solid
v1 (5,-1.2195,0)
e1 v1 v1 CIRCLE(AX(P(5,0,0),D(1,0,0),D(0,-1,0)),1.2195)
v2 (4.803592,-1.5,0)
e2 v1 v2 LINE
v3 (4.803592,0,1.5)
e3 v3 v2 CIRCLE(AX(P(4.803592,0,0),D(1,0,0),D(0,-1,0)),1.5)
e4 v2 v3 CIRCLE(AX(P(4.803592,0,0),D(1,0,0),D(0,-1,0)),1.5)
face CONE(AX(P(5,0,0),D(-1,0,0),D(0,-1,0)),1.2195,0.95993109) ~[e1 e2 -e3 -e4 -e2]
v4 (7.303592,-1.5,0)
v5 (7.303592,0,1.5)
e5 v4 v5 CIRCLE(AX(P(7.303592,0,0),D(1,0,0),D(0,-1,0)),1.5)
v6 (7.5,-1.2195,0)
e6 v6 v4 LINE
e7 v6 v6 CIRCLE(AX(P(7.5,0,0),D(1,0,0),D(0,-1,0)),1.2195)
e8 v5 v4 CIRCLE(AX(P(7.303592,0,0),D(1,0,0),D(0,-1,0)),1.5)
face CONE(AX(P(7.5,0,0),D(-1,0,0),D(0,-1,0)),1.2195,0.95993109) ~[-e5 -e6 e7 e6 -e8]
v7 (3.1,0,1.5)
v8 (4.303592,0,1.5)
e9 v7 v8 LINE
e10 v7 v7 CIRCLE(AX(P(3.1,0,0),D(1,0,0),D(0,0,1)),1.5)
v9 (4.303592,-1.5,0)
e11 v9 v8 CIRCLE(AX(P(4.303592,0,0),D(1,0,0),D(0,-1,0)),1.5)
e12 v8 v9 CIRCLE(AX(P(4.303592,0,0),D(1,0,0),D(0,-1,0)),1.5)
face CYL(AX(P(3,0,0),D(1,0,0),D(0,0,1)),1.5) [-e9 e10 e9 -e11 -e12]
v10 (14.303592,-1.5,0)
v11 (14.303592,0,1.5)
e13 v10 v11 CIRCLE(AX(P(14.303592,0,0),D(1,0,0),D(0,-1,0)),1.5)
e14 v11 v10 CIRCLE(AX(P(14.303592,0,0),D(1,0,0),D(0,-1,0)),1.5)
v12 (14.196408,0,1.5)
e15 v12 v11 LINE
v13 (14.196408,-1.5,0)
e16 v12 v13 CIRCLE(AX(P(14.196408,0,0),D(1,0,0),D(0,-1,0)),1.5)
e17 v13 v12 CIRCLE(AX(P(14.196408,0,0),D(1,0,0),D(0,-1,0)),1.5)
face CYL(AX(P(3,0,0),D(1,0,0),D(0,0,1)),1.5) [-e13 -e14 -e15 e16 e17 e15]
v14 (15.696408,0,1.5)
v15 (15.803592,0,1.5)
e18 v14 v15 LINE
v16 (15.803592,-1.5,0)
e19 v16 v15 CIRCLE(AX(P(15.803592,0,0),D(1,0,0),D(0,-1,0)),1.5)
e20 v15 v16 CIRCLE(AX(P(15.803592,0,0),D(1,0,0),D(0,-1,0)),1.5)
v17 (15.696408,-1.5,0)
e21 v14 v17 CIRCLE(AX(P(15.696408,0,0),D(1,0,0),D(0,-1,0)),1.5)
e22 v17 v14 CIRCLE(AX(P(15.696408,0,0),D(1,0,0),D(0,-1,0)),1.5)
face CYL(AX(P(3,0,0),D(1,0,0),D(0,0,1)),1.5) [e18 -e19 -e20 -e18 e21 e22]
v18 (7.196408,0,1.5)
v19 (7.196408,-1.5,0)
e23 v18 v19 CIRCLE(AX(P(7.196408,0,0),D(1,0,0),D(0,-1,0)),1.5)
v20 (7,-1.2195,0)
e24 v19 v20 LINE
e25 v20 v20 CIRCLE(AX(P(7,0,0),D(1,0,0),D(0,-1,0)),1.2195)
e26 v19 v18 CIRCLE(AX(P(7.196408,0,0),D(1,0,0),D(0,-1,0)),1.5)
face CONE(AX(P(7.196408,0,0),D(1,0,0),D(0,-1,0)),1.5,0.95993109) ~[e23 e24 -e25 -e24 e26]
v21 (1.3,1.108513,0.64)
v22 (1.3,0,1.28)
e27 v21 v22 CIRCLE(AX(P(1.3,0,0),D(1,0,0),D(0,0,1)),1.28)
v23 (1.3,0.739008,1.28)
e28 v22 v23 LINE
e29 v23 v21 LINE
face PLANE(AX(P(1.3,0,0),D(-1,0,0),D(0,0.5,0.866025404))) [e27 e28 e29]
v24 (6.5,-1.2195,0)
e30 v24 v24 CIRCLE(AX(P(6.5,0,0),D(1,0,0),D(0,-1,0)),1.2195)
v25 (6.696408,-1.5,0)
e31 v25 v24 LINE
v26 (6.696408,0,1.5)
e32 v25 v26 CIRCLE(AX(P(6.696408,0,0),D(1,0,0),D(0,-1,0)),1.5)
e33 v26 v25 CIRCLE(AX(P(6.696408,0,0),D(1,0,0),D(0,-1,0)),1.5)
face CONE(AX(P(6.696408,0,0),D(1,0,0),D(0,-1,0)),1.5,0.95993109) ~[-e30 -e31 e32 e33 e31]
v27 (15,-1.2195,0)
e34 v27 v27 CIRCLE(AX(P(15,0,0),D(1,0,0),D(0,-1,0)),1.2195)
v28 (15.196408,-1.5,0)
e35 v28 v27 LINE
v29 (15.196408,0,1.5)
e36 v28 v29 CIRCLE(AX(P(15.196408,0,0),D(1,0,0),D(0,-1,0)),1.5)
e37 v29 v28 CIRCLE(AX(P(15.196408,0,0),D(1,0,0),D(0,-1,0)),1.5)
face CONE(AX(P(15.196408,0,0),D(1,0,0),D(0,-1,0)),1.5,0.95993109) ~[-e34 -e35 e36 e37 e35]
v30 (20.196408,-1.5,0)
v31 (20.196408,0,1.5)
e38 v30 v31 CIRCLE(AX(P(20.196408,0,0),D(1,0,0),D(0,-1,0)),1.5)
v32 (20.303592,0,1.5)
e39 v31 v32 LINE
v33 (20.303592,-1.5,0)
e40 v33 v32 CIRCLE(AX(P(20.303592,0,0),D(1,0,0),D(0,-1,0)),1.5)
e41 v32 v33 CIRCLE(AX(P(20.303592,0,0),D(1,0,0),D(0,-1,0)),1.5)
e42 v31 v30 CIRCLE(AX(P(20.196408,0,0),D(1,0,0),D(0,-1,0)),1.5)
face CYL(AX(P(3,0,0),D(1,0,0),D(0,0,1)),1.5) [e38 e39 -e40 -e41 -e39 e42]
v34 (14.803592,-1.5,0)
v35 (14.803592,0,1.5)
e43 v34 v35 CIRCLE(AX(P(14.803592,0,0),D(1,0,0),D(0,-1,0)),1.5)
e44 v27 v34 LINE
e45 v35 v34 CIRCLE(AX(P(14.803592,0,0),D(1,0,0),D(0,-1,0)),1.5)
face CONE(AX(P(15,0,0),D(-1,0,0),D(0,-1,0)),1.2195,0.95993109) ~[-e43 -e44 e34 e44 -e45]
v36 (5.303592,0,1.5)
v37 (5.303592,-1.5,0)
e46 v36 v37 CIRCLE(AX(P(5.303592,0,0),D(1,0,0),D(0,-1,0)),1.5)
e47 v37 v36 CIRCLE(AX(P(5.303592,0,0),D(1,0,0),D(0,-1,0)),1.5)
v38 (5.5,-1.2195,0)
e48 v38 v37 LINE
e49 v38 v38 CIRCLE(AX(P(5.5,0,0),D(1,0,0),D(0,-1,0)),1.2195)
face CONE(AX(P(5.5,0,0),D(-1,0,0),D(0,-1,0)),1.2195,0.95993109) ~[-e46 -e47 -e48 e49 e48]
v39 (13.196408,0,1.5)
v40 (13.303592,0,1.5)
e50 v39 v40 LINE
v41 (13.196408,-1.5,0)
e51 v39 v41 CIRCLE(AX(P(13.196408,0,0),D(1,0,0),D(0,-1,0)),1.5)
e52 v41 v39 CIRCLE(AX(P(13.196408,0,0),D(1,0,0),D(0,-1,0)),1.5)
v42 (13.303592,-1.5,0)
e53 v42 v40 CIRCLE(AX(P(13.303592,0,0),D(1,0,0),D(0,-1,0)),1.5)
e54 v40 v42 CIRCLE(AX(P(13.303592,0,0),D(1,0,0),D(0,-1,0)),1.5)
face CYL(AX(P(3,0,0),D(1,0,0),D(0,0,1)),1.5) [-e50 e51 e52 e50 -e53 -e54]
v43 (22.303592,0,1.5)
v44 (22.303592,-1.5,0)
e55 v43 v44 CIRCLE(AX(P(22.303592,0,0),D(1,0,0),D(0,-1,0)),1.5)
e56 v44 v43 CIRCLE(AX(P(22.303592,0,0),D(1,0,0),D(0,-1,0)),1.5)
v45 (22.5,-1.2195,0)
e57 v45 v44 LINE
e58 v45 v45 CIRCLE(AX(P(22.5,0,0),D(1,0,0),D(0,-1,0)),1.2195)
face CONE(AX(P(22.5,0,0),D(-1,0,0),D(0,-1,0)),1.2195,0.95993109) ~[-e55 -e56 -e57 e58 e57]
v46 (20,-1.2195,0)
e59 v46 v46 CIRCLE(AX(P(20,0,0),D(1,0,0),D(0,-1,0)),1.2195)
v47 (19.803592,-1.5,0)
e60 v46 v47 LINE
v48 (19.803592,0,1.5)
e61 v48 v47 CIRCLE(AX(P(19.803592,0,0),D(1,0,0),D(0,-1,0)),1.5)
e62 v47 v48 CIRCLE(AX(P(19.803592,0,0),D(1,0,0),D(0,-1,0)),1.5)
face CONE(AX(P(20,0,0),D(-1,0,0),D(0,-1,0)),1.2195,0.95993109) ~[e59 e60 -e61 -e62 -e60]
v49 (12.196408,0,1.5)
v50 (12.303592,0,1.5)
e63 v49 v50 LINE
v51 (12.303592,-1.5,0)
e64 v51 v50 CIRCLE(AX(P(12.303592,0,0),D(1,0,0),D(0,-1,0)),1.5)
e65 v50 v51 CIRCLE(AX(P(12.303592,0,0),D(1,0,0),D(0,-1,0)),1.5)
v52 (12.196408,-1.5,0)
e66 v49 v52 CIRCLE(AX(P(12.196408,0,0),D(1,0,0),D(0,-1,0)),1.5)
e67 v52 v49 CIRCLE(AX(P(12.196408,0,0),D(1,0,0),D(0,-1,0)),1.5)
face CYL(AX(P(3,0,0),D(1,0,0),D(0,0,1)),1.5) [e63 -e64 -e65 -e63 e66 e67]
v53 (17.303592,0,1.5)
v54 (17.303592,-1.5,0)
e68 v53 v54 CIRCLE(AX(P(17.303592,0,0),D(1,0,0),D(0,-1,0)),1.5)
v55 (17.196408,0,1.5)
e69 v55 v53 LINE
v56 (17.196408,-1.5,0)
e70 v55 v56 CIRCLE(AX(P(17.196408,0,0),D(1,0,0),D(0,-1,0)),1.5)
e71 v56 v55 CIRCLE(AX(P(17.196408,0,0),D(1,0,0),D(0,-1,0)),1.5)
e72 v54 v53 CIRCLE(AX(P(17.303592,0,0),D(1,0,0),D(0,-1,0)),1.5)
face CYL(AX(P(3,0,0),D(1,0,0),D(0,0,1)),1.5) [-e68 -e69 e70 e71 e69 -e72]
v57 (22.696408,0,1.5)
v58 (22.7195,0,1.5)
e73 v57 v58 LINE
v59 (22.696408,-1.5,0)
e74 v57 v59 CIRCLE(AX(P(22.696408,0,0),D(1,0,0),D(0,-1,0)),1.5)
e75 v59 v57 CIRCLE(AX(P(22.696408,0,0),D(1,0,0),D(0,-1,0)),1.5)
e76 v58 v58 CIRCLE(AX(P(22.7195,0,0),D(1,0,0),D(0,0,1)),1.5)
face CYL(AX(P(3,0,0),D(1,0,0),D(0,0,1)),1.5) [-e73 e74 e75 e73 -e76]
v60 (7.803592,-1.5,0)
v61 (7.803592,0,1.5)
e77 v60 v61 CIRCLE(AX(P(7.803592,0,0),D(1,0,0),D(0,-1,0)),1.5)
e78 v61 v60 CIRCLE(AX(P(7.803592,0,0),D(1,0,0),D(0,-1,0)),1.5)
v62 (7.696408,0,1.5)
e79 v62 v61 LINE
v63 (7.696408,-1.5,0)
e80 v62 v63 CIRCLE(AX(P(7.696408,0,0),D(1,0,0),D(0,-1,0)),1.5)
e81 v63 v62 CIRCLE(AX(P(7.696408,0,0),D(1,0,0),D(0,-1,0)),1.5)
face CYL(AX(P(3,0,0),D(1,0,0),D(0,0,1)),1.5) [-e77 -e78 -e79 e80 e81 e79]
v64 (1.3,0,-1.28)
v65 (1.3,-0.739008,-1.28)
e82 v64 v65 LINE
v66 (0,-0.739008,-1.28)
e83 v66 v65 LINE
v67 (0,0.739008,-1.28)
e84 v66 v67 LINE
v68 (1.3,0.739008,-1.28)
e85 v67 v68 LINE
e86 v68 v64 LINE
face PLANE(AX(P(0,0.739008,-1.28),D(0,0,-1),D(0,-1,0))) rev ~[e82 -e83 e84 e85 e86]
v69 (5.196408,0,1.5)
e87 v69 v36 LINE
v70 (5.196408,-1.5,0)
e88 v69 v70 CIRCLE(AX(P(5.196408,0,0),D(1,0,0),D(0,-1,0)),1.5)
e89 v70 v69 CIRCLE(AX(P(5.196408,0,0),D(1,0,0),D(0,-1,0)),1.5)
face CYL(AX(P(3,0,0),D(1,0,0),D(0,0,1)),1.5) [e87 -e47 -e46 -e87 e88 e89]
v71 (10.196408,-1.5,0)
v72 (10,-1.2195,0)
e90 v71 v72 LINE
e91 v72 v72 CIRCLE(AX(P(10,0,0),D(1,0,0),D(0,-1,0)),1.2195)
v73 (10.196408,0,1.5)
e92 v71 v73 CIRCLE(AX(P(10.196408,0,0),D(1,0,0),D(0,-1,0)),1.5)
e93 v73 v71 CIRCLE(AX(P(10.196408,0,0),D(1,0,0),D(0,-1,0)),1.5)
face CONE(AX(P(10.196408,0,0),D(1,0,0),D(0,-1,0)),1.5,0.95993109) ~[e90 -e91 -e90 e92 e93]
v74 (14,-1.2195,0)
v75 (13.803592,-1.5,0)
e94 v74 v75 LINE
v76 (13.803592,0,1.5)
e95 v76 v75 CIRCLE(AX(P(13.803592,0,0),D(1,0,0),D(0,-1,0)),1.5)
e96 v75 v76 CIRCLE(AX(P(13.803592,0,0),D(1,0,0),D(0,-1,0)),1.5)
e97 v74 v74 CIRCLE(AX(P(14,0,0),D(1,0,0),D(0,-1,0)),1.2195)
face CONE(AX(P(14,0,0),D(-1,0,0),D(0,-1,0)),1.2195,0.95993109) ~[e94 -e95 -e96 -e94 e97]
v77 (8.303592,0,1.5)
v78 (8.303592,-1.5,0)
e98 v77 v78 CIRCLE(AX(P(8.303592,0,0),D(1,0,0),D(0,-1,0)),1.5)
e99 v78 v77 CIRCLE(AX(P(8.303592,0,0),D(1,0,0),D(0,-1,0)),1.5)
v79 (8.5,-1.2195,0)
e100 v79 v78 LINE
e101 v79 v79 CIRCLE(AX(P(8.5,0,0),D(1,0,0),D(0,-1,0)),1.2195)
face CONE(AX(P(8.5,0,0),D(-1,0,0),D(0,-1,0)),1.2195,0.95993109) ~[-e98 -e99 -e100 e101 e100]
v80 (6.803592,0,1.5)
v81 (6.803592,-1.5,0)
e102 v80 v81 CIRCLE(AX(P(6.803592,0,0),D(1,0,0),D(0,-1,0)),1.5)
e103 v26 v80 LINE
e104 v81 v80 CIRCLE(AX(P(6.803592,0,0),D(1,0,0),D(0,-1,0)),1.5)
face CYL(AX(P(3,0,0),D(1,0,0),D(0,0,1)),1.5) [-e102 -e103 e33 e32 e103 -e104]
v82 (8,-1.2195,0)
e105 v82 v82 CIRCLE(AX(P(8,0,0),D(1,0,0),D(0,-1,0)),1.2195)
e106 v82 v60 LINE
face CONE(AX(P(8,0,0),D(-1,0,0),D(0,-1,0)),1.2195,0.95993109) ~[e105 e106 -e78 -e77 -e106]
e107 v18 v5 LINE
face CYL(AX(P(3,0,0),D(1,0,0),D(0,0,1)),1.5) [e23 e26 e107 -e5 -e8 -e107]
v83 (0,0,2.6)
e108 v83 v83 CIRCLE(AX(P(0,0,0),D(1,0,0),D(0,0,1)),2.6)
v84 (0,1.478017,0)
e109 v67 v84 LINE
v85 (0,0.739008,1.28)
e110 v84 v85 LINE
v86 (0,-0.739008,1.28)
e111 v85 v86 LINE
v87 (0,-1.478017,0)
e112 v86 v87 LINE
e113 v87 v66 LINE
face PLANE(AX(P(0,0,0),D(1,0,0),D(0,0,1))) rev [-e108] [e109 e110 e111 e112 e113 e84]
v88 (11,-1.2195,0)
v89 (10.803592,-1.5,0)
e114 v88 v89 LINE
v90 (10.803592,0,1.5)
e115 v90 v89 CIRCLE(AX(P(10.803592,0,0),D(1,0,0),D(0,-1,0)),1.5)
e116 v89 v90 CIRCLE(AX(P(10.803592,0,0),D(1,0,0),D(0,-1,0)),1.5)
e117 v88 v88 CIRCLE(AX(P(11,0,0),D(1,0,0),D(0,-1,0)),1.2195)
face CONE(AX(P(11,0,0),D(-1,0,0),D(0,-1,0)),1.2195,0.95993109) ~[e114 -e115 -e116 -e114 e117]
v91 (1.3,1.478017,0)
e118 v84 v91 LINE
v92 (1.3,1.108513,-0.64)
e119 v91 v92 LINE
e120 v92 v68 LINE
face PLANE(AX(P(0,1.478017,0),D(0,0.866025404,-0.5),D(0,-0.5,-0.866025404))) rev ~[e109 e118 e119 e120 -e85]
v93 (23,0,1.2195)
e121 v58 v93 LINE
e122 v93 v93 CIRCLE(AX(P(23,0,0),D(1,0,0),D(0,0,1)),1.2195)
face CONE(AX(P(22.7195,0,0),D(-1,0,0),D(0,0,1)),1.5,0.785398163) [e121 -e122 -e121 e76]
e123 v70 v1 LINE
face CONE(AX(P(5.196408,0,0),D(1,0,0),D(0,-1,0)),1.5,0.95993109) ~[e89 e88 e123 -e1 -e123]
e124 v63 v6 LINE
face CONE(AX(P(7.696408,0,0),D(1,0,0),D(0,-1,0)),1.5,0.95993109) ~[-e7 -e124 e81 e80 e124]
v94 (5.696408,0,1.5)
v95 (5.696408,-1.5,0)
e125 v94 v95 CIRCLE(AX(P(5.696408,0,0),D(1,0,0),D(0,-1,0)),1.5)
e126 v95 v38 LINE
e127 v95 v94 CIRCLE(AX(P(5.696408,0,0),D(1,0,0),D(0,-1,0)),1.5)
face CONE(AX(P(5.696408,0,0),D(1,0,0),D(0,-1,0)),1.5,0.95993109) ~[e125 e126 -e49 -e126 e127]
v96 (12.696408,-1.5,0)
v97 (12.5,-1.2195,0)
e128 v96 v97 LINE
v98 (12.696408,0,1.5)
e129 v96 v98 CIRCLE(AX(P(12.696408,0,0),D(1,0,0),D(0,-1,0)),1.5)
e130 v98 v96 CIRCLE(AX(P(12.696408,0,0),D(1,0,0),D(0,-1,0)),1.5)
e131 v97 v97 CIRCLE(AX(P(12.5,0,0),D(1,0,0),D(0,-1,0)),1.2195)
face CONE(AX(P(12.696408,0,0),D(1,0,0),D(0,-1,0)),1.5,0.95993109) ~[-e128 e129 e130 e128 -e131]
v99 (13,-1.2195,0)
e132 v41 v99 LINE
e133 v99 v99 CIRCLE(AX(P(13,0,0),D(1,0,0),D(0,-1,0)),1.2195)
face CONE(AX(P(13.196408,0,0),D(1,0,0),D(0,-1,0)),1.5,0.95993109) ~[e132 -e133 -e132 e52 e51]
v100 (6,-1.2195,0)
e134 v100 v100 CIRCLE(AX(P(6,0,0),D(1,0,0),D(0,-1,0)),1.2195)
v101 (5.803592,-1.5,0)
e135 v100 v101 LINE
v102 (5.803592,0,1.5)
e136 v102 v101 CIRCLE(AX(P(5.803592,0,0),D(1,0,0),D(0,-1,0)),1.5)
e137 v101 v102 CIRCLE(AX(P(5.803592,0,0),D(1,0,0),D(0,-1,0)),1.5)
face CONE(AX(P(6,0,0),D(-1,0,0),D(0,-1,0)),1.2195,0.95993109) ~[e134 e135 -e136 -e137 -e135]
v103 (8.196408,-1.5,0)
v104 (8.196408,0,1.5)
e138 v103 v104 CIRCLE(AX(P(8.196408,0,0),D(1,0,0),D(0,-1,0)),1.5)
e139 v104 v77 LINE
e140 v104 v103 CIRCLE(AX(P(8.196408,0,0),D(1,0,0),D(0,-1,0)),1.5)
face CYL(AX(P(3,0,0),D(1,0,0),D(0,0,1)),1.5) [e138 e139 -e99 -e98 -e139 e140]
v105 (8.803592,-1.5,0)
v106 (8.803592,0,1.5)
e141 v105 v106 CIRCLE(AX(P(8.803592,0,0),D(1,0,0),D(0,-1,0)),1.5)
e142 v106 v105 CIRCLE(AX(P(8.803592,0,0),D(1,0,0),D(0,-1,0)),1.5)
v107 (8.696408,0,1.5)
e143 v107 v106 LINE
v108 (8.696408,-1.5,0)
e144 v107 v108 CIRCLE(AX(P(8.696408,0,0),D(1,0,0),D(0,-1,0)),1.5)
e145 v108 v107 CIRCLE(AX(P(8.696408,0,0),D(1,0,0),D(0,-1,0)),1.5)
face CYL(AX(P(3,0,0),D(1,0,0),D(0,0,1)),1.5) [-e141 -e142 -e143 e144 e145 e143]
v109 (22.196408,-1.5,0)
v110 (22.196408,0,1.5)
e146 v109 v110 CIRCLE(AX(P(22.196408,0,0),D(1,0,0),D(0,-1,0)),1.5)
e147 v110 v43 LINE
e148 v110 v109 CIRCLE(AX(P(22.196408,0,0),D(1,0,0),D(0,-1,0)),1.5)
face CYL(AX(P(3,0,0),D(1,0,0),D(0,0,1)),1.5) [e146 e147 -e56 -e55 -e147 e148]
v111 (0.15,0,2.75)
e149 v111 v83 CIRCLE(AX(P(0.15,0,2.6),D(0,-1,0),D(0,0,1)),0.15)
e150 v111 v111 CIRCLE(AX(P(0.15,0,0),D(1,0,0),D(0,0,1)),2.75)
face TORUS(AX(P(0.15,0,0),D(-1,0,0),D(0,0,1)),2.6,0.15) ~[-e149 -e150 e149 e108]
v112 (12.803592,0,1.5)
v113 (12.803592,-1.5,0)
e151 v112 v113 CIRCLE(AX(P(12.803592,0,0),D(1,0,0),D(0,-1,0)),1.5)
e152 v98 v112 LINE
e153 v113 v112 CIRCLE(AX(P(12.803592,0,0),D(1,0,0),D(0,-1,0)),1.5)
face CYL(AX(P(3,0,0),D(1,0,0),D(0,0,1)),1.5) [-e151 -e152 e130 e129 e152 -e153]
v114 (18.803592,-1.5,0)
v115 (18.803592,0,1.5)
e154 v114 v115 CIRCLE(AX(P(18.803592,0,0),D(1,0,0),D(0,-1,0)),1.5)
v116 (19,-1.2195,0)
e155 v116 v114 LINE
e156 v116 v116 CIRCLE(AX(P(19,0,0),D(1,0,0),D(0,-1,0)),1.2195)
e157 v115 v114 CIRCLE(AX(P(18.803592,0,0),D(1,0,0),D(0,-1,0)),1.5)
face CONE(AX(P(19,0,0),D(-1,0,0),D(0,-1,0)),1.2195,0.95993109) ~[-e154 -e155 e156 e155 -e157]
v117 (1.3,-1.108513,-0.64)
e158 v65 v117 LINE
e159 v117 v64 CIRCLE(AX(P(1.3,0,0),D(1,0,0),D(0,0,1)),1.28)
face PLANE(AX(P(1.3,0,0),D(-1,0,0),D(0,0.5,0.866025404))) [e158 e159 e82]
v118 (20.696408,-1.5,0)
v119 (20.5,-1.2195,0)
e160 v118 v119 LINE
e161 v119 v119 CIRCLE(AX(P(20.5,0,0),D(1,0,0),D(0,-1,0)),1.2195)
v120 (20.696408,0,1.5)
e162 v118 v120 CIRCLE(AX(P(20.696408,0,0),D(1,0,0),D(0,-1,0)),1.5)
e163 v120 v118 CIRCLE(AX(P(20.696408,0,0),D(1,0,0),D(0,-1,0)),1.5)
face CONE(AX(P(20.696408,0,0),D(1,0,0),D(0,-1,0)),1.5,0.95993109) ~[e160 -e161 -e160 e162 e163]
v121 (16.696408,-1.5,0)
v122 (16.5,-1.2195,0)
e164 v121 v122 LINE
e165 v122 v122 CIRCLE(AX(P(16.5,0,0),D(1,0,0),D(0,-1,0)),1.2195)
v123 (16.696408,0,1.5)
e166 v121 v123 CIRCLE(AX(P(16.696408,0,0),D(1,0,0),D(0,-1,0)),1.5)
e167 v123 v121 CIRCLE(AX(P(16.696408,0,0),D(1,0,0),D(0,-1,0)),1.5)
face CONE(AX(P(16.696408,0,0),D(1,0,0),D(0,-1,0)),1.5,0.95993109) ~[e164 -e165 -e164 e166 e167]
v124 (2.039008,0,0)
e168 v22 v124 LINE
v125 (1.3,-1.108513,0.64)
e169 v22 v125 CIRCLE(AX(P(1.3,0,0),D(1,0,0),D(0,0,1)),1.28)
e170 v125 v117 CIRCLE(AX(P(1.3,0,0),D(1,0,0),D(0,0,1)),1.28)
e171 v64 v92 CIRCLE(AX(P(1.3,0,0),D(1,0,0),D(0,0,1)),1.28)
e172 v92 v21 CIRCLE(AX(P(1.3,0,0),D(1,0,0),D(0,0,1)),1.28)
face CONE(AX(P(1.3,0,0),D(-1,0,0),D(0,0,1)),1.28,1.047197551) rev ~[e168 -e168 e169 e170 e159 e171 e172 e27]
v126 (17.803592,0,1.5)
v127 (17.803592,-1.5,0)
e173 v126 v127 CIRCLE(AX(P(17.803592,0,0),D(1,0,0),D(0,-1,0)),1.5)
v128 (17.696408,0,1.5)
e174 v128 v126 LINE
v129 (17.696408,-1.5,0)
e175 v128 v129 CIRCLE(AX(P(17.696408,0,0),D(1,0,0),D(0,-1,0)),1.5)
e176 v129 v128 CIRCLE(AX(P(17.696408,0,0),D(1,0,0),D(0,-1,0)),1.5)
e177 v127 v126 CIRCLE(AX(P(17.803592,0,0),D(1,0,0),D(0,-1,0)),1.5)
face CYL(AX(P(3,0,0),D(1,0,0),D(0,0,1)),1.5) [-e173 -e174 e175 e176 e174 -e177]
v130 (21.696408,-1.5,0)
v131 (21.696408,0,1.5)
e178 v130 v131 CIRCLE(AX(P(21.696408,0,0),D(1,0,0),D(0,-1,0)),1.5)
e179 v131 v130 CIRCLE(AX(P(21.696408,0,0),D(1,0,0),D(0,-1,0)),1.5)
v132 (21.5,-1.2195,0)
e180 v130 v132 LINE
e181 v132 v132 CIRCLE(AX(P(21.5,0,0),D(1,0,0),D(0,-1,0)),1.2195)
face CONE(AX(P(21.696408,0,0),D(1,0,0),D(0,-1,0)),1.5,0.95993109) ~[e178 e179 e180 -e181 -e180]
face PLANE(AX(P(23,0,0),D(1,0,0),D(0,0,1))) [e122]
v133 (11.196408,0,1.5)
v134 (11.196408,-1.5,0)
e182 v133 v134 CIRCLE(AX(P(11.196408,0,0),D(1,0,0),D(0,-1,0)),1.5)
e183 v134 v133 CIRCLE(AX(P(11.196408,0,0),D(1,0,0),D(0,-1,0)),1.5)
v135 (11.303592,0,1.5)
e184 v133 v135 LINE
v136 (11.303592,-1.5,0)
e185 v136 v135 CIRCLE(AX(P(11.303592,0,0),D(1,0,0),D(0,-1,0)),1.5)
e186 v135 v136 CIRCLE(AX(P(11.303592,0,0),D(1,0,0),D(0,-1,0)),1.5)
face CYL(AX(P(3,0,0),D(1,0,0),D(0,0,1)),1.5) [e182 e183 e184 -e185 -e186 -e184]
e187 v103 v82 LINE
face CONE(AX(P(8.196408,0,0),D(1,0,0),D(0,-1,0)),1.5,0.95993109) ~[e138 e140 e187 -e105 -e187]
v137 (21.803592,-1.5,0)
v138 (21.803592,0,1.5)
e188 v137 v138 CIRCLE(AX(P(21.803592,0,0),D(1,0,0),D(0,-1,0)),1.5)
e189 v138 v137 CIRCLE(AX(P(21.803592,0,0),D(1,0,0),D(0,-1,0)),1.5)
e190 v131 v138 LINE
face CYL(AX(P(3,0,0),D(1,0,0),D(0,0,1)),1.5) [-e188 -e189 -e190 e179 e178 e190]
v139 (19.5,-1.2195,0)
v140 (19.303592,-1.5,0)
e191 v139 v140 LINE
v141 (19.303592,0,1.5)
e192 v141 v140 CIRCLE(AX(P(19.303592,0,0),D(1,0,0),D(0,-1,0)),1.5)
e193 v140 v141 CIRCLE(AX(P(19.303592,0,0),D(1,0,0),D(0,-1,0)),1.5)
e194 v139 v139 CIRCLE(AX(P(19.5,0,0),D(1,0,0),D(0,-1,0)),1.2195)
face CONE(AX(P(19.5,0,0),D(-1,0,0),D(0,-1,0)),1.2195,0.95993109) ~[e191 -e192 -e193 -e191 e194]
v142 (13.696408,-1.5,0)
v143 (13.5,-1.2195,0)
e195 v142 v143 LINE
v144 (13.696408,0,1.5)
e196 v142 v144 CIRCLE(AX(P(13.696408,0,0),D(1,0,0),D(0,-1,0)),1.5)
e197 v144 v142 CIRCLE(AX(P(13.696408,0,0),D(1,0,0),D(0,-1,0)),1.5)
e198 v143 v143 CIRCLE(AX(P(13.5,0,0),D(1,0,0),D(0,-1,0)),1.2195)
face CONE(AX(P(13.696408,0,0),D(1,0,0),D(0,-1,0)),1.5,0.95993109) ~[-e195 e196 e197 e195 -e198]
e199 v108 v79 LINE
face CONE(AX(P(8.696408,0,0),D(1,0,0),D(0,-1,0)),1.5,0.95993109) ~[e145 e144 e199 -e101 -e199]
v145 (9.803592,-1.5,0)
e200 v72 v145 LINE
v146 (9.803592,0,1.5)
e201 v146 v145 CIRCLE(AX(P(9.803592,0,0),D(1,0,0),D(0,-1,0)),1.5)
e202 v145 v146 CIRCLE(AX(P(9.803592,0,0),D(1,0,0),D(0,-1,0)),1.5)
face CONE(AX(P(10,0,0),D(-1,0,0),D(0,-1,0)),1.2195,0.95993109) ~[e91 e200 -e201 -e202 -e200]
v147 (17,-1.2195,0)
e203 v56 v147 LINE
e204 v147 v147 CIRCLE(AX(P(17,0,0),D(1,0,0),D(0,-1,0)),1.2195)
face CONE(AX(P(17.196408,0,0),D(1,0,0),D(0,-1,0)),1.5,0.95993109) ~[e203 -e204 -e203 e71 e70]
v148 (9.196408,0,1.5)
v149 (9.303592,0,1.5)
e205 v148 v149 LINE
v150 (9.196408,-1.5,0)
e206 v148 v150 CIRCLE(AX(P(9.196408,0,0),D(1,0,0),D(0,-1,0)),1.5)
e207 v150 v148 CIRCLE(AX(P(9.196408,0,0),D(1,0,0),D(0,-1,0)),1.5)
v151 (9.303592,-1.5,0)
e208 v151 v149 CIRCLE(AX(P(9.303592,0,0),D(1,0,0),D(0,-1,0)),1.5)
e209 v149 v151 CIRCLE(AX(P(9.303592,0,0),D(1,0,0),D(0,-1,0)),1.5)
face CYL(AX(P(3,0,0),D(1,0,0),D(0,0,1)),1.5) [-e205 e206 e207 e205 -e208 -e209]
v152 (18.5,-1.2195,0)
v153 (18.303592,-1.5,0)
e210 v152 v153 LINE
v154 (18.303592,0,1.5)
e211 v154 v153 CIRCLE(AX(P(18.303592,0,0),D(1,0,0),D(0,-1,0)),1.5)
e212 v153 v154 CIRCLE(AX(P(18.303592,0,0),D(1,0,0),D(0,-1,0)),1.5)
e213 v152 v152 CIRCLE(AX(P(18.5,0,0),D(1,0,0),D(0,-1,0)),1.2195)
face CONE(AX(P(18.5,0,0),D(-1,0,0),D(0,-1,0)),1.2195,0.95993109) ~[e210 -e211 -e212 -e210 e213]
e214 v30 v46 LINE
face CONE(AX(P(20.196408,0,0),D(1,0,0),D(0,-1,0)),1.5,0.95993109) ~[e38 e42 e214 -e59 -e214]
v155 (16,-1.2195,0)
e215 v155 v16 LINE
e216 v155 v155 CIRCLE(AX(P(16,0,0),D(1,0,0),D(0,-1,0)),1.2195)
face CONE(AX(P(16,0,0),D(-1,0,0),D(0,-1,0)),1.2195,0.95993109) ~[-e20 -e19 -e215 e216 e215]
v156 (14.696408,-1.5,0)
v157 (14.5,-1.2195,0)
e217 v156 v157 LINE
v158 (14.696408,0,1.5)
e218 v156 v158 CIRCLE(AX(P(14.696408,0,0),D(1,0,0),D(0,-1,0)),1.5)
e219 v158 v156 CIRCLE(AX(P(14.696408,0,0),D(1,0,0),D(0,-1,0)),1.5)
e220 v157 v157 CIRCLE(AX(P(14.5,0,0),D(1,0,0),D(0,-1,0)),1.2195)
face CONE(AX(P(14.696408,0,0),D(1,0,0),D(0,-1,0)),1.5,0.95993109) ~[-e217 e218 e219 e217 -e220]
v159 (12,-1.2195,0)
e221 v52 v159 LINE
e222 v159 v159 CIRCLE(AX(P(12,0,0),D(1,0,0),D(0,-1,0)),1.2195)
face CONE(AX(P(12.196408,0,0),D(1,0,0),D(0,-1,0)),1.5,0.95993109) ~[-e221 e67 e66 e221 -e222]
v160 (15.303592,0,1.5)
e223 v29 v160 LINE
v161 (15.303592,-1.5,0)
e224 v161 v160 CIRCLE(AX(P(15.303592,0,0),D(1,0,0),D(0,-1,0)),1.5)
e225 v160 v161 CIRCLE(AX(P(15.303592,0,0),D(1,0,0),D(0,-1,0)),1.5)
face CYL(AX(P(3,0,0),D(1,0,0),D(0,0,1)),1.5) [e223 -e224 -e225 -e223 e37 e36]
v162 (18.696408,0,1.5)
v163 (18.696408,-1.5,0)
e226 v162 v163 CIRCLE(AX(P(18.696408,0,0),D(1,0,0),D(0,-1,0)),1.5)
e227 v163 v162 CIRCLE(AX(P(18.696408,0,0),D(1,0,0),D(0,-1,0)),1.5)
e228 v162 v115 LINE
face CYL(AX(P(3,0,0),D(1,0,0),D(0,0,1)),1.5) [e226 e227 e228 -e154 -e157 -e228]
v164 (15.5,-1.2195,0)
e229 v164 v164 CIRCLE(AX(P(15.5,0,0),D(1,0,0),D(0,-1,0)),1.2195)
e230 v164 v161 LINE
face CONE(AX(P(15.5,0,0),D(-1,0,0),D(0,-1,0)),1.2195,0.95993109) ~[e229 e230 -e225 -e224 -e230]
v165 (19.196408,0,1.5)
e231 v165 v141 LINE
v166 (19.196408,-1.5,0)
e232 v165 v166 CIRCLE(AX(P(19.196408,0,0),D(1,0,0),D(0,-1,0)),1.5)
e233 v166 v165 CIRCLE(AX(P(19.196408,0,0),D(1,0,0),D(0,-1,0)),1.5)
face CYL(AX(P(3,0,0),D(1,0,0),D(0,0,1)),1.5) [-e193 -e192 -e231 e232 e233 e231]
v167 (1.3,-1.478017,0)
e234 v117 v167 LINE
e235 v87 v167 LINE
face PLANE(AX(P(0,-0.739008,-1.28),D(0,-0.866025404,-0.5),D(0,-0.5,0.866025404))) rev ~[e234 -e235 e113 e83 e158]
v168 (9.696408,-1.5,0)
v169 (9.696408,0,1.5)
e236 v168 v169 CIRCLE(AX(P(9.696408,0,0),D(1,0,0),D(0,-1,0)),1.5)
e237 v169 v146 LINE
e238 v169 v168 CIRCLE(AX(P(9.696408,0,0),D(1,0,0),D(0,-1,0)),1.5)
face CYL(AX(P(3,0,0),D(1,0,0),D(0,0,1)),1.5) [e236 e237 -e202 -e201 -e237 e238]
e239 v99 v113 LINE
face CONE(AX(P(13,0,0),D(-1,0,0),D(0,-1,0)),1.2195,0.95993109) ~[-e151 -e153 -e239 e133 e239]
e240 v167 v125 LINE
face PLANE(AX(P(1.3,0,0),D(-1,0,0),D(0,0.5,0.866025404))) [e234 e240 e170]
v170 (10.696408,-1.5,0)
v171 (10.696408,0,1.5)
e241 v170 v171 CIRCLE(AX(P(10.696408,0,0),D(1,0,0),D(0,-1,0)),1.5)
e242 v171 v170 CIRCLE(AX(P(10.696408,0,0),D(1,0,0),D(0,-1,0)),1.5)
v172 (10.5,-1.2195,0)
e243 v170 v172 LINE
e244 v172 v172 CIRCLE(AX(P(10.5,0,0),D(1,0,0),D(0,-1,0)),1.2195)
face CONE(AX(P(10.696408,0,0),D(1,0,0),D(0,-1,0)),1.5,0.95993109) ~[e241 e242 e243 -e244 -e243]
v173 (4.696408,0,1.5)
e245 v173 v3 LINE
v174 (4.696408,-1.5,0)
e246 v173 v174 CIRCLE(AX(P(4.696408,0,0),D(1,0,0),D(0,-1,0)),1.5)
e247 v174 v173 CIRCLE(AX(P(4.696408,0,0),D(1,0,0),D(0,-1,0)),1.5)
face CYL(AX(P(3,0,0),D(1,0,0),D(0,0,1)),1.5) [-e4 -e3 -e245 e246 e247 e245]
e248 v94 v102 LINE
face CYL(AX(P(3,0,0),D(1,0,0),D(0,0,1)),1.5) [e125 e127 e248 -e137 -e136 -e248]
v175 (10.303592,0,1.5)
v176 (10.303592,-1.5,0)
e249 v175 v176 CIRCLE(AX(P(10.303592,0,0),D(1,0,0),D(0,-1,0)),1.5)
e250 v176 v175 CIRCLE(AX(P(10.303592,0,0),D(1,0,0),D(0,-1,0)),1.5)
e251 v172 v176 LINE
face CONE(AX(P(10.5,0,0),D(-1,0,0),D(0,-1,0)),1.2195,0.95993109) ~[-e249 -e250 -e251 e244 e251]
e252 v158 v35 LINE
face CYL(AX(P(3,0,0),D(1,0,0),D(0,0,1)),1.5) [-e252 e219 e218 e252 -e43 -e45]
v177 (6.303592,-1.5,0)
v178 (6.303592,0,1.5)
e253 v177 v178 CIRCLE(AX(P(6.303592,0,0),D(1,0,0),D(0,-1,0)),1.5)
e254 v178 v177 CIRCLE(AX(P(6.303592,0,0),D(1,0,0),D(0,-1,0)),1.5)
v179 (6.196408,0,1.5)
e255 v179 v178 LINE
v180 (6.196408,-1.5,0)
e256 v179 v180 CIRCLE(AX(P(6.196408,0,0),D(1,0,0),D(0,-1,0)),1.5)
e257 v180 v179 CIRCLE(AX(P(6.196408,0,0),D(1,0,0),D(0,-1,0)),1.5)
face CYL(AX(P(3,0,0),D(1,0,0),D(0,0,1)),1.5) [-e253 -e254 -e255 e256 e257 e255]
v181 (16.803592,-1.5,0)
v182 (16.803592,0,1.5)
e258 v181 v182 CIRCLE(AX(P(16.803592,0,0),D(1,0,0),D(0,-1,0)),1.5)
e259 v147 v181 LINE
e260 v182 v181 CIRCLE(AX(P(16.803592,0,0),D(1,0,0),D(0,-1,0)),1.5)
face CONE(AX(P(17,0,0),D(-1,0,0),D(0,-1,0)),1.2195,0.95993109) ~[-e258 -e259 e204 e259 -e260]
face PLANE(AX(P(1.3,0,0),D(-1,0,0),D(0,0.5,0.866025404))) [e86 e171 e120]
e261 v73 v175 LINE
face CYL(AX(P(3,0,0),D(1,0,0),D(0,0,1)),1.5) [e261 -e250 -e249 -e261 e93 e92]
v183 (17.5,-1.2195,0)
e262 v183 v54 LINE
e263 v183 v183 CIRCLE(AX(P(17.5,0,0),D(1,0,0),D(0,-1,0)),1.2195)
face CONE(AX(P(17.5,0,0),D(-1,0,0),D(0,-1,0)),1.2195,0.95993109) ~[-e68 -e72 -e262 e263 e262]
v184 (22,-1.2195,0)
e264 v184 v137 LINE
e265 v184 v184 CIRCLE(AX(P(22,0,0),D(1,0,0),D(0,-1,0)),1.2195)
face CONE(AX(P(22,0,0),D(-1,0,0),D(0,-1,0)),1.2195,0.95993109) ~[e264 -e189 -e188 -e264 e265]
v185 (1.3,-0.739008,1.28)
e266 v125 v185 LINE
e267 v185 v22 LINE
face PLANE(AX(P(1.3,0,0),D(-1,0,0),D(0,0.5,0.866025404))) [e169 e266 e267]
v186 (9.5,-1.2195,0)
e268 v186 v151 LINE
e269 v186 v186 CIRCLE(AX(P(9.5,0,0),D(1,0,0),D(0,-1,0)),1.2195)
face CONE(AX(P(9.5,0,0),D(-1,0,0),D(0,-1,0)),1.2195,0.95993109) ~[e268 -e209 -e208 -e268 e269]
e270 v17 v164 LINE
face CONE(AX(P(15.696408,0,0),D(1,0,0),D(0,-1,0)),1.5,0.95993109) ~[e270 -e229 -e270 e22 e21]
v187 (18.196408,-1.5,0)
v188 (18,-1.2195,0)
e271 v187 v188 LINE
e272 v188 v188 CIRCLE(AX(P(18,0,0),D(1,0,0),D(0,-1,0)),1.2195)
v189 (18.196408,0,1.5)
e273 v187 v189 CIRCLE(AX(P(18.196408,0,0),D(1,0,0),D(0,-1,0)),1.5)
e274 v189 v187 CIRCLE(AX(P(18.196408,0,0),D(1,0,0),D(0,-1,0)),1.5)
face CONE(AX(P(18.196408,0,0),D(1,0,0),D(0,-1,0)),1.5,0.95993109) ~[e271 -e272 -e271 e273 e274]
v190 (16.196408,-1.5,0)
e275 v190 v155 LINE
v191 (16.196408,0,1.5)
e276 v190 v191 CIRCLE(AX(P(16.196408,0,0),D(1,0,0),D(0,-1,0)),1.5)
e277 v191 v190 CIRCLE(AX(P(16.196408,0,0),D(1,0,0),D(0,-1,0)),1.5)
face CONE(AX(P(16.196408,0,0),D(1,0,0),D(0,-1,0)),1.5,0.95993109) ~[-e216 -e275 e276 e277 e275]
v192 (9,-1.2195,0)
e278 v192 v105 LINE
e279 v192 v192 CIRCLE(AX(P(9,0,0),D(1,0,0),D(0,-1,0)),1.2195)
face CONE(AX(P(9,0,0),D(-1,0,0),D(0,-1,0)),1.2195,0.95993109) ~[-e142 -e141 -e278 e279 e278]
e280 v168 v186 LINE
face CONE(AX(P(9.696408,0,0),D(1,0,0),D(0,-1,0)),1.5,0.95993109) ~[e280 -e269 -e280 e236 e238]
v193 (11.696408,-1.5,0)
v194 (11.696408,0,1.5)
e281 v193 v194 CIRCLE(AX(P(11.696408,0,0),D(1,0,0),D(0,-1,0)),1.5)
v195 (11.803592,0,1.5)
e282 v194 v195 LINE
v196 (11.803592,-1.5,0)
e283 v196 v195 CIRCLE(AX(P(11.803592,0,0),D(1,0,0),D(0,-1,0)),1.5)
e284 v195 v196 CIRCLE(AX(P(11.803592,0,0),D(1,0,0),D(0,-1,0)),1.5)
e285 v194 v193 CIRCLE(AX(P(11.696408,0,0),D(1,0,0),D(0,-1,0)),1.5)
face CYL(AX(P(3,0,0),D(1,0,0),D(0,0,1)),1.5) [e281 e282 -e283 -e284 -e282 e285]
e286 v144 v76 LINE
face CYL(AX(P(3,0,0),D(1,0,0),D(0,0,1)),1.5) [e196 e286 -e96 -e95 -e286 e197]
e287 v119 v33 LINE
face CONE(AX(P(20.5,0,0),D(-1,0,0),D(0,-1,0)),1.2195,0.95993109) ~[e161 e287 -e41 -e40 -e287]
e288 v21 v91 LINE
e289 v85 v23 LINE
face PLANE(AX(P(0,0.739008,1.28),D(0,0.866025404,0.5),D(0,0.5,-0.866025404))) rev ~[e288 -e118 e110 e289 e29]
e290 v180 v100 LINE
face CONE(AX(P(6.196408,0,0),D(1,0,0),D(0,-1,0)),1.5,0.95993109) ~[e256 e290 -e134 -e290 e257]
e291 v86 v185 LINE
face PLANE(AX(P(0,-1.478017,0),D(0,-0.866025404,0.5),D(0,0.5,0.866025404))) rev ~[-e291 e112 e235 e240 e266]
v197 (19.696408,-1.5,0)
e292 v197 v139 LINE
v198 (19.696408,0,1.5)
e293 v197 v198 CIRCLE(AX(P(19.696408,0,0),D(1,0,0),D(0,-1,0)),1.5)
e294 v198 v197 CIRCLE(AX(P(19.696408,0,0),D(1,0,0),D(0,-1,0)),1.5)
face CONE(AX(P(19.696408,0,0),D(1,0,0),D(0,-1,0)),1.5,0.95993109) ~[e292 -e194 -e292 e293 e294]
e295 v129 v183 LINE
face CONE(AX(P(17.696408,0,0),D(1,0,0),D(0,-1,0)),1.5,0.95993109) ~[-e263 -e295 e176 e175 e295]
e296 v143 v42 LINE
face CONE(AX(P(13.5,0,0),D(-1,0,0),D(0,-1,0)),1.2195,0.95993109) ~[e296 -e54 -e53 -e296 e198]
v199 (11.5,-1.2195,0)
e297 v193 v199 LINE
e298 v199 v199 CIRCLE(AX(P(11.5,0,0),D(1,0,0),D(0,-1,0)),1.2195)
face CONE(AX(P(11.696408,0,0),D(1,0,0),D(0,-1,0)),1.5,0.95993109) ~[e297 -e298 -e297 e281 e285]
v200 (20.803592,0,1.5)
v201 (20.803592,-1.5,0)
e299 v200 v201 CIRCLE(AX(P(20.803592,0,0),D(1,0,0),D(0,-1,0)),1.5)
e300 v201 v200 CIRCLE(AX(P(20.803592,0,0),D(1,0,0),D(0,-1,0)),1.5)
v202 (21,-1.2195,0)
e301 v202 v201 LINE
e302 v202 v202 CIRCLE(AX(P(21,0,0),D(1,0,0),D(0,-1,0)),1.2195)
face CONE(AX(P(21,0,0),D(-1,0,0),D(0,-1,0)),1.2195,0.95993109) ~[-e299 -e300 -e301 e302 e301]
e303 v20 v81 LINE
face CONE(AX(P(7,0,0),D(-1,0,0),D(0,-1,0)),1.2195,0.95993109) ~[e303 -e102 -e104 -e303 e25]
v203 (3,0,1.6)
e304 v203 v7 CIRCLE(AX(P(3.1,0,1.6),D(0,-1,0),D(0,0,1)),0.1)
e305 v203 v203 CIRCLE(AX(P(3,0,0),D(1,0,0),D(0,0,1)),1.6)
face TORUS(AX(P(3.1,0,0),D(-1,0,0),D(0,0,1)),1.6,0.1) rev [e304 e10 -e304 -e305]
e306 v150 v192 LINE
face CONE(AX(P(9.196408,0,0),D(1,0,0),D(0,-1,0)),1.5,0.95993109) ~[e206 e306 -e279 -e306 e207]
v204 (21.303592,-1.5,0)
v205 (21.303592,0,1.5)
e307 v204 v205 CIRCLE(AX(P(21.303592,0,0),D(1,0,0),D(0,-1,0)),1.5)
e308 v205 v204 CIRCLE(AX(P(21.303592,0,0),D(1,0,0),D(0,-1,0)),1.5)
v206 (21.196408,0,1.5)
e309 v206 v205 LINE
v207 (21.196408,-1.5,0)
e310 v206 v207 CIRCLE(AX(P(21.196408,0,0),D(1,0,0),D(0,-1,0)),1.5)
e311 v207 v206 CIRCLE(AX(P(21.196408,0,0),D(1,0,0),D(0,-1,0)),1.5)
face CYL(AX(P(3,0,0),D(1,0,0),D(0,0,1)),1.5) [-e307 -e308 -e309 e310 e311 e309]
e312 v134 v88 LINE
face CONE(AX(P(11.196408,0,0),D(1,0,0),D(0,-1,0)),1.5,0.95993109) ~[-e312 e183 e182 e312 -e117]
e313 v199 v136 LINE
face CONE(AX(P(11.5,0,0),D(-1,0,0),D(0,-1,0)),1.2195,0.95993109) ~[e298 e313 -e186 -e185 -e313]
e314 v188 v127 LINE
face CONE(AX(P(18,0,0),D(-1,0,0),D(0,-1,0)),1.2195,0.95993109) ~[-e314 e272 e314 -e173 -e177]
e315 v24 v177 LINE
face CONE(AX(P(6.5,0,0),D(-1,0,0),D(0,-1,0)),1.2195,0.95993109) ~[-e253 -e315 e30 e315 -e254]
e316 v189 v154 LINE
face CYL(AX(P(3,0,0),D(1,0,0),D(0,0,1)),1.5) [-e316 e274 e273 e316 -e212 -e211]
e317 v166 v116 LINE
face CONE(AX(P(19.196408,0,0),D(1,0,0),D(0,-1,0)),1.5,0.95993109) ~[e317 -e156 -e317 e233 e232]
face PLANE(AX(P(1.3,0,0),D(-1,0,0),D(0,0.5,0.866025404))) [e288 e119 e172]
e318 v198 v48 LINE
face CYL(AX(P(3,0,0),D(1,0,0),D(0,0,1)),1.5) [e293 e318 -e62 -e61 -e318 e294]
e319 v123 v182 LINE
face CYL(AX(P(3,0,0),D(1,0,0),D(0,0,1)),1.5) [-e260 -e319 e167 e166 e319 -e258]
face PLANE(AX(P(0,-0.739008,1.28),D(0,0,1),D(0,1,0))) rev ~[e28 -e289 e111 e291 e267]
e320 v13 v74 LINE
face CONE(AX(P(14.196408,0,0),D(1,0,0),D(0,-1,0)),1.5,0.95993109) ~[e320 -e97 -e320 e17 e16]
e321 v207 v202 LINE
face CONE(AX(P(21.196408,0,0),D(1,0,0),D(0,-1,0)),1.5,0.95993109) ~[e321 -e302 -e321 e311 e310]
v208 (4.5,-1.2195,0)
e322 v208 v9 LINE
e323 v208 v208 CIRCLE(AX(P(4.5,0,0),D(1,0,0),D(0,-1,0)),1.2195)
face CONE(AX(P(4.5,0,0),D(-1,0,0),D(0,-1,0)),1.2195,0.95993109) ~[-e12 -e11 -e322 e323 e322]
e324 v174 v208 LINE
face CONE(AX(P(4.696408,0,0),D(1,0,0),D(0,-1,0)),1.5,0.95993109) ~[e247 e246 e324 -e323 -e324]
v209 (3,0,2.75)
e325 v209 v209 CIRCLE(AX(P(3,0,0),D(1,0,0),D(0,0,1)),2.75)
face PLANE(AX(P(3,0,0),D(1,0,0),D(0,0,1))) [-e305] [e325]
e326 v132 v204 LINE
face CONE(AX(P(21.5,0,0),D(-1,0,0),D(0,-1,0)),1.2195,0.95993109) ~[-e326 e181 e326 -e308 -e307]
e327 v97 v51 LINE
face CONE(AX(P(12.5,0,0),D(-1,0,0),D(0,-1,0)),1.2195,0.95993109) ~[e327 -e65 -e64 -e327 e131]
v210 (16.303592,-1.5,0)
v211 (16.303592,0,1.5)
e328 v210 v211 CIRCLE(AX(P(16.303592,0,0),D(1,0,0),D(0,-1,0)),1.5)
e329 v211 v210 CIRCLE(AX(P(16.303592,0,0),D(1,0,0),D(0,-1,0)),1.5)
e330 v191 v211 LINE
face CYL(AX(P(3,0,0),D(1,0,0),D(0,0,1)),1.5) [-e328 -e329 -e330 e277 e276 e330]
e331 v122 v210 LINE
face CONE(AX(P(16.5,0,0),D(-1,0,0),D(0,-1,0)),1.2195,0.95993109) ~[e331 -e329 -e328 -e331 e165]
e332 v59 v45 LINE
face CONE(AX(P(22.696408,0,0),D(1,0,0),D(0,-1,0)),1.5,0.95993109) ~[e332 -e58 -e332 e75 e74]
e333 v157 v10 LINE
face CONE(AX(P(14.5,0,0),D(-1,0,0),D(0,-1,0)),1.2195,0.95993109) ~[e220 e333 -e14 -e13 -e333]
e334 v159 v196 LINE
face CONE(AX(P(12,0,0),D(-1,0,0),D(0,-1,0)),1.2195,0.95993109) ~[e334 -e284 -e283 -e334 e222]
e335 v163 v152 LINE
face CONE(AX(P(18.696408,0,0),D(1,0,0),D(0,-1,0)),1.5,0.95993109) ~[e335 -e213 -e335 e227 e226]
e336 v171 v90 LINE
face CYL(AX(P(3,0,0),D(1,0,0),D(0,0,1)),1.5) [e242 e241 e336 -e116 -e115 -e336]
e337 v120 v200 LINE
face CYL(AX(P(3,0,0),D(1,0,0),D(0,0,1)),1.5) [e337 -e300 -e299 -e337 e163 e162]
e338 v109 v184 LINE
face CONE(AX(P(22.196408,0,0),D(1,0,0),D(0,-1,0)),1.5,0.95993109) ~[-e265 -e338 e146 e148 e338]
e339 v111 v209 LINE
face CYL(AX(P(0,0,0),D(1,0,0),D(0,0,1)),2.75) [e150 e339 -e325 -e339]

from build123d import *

# Parameters (mm, degrees)
FILLET1_R       = 0.1
FILLET2_R       = 0.15
HEX_2_DEPTH     = 1.3
THDSCHPAT_COUNT = 37
THDSCHPAT_PITCH = 0.5


with BuildPart() as part:
    # BodySke → Base-Revolve (revolve)
    with BuildSketch(Plane.XY, mode=Mode.PRIVATE) as base_revolve_sk:
        Polygon((0, 0), (0, 2.75), (3, 2.75), (3, 1.5), (22.7195, 1.5), (23, 1.2195), (23, 0), align=None)
    revolve(base_revolve_sk.sketch.rotate(Axis((-31.75, 0, 0), (1, 0, 0)), 90), axis=Axis((-31.75, 0, 0), (1, 0, 0)))

    # Fillet1
    fillet1_edges = [part.edges().sort_by_distance(p)[0] for p in [
        (3, 0, -1.5),
    ]]
    fillet(fillet1_edges, radius=FILLET1_R)

    # Fillet2
    fillet2_edges = [part.edges().sort_by_distance(p)[0] for p in [
        (0, 0, -2.75),
    ]]
    fillet(fillet2_edges, radius=FILLET2_R)

    # Sketch2 → Hex-PreBroach (revolve, cut)
    with BuildSketch(Plane.XY, mode=Mode.PRIVATE) as hex_prebroach_sk:
        Polygon((0, 1.28), (1.3, 1.28), (2.039008345, 0), (0, 0), align=None)
    revolve(hex_prebroach_sk.sketch.rotate(Axis((0, 0, 0), (1, 0, 0)), 90), axis=Axis((0, 0, 0), (1, 0, 0)), mode=Mode.SUBTRACT)

    # Sketch3 → Hex 2 (cut)
    with BuildSketch(Plane(origin=(0, 0, 0), x_dir=(0, 0.500000000000001, 0.866025403784438), z_dir=(-1, 0, 0))):
        Polygon((0.739008345, 1.28), (-0.739008345, 1.28), (-1.478016689, 0), (-0.739008345, -1.28), (0.739008345, -1.28), (1.478016689, 0), align=None)
    extrude(amount=-HEX_2_DEPTH, mode=Mode.SUBTRACT)

    # ThdSchSke → ThreadSchematic (revolve, cut)
    with BuildSketch(Plane.XY):
        Polygon((4.5, -1.2195), (4.303591786, -1.5), (4.303591786, -1.875), (4.696408214, -1.875), (4.696408214, -1.5), align=None)
    threadschematic = revolve(axis=Axis((-3.175, 0, 0), (1, 0, 0)), mode=Mode.SUBTRACT)

    # ThdSchPat: ThreadSchematic ×37
    with Locations(*[(i * THDSCHPAT_PITCH, 0, 0) for i in range(1, THDSCHPAT_COUNT)]):
        add(threadschematic, mode=Mode.SUBTRACT)


solid = part.part
